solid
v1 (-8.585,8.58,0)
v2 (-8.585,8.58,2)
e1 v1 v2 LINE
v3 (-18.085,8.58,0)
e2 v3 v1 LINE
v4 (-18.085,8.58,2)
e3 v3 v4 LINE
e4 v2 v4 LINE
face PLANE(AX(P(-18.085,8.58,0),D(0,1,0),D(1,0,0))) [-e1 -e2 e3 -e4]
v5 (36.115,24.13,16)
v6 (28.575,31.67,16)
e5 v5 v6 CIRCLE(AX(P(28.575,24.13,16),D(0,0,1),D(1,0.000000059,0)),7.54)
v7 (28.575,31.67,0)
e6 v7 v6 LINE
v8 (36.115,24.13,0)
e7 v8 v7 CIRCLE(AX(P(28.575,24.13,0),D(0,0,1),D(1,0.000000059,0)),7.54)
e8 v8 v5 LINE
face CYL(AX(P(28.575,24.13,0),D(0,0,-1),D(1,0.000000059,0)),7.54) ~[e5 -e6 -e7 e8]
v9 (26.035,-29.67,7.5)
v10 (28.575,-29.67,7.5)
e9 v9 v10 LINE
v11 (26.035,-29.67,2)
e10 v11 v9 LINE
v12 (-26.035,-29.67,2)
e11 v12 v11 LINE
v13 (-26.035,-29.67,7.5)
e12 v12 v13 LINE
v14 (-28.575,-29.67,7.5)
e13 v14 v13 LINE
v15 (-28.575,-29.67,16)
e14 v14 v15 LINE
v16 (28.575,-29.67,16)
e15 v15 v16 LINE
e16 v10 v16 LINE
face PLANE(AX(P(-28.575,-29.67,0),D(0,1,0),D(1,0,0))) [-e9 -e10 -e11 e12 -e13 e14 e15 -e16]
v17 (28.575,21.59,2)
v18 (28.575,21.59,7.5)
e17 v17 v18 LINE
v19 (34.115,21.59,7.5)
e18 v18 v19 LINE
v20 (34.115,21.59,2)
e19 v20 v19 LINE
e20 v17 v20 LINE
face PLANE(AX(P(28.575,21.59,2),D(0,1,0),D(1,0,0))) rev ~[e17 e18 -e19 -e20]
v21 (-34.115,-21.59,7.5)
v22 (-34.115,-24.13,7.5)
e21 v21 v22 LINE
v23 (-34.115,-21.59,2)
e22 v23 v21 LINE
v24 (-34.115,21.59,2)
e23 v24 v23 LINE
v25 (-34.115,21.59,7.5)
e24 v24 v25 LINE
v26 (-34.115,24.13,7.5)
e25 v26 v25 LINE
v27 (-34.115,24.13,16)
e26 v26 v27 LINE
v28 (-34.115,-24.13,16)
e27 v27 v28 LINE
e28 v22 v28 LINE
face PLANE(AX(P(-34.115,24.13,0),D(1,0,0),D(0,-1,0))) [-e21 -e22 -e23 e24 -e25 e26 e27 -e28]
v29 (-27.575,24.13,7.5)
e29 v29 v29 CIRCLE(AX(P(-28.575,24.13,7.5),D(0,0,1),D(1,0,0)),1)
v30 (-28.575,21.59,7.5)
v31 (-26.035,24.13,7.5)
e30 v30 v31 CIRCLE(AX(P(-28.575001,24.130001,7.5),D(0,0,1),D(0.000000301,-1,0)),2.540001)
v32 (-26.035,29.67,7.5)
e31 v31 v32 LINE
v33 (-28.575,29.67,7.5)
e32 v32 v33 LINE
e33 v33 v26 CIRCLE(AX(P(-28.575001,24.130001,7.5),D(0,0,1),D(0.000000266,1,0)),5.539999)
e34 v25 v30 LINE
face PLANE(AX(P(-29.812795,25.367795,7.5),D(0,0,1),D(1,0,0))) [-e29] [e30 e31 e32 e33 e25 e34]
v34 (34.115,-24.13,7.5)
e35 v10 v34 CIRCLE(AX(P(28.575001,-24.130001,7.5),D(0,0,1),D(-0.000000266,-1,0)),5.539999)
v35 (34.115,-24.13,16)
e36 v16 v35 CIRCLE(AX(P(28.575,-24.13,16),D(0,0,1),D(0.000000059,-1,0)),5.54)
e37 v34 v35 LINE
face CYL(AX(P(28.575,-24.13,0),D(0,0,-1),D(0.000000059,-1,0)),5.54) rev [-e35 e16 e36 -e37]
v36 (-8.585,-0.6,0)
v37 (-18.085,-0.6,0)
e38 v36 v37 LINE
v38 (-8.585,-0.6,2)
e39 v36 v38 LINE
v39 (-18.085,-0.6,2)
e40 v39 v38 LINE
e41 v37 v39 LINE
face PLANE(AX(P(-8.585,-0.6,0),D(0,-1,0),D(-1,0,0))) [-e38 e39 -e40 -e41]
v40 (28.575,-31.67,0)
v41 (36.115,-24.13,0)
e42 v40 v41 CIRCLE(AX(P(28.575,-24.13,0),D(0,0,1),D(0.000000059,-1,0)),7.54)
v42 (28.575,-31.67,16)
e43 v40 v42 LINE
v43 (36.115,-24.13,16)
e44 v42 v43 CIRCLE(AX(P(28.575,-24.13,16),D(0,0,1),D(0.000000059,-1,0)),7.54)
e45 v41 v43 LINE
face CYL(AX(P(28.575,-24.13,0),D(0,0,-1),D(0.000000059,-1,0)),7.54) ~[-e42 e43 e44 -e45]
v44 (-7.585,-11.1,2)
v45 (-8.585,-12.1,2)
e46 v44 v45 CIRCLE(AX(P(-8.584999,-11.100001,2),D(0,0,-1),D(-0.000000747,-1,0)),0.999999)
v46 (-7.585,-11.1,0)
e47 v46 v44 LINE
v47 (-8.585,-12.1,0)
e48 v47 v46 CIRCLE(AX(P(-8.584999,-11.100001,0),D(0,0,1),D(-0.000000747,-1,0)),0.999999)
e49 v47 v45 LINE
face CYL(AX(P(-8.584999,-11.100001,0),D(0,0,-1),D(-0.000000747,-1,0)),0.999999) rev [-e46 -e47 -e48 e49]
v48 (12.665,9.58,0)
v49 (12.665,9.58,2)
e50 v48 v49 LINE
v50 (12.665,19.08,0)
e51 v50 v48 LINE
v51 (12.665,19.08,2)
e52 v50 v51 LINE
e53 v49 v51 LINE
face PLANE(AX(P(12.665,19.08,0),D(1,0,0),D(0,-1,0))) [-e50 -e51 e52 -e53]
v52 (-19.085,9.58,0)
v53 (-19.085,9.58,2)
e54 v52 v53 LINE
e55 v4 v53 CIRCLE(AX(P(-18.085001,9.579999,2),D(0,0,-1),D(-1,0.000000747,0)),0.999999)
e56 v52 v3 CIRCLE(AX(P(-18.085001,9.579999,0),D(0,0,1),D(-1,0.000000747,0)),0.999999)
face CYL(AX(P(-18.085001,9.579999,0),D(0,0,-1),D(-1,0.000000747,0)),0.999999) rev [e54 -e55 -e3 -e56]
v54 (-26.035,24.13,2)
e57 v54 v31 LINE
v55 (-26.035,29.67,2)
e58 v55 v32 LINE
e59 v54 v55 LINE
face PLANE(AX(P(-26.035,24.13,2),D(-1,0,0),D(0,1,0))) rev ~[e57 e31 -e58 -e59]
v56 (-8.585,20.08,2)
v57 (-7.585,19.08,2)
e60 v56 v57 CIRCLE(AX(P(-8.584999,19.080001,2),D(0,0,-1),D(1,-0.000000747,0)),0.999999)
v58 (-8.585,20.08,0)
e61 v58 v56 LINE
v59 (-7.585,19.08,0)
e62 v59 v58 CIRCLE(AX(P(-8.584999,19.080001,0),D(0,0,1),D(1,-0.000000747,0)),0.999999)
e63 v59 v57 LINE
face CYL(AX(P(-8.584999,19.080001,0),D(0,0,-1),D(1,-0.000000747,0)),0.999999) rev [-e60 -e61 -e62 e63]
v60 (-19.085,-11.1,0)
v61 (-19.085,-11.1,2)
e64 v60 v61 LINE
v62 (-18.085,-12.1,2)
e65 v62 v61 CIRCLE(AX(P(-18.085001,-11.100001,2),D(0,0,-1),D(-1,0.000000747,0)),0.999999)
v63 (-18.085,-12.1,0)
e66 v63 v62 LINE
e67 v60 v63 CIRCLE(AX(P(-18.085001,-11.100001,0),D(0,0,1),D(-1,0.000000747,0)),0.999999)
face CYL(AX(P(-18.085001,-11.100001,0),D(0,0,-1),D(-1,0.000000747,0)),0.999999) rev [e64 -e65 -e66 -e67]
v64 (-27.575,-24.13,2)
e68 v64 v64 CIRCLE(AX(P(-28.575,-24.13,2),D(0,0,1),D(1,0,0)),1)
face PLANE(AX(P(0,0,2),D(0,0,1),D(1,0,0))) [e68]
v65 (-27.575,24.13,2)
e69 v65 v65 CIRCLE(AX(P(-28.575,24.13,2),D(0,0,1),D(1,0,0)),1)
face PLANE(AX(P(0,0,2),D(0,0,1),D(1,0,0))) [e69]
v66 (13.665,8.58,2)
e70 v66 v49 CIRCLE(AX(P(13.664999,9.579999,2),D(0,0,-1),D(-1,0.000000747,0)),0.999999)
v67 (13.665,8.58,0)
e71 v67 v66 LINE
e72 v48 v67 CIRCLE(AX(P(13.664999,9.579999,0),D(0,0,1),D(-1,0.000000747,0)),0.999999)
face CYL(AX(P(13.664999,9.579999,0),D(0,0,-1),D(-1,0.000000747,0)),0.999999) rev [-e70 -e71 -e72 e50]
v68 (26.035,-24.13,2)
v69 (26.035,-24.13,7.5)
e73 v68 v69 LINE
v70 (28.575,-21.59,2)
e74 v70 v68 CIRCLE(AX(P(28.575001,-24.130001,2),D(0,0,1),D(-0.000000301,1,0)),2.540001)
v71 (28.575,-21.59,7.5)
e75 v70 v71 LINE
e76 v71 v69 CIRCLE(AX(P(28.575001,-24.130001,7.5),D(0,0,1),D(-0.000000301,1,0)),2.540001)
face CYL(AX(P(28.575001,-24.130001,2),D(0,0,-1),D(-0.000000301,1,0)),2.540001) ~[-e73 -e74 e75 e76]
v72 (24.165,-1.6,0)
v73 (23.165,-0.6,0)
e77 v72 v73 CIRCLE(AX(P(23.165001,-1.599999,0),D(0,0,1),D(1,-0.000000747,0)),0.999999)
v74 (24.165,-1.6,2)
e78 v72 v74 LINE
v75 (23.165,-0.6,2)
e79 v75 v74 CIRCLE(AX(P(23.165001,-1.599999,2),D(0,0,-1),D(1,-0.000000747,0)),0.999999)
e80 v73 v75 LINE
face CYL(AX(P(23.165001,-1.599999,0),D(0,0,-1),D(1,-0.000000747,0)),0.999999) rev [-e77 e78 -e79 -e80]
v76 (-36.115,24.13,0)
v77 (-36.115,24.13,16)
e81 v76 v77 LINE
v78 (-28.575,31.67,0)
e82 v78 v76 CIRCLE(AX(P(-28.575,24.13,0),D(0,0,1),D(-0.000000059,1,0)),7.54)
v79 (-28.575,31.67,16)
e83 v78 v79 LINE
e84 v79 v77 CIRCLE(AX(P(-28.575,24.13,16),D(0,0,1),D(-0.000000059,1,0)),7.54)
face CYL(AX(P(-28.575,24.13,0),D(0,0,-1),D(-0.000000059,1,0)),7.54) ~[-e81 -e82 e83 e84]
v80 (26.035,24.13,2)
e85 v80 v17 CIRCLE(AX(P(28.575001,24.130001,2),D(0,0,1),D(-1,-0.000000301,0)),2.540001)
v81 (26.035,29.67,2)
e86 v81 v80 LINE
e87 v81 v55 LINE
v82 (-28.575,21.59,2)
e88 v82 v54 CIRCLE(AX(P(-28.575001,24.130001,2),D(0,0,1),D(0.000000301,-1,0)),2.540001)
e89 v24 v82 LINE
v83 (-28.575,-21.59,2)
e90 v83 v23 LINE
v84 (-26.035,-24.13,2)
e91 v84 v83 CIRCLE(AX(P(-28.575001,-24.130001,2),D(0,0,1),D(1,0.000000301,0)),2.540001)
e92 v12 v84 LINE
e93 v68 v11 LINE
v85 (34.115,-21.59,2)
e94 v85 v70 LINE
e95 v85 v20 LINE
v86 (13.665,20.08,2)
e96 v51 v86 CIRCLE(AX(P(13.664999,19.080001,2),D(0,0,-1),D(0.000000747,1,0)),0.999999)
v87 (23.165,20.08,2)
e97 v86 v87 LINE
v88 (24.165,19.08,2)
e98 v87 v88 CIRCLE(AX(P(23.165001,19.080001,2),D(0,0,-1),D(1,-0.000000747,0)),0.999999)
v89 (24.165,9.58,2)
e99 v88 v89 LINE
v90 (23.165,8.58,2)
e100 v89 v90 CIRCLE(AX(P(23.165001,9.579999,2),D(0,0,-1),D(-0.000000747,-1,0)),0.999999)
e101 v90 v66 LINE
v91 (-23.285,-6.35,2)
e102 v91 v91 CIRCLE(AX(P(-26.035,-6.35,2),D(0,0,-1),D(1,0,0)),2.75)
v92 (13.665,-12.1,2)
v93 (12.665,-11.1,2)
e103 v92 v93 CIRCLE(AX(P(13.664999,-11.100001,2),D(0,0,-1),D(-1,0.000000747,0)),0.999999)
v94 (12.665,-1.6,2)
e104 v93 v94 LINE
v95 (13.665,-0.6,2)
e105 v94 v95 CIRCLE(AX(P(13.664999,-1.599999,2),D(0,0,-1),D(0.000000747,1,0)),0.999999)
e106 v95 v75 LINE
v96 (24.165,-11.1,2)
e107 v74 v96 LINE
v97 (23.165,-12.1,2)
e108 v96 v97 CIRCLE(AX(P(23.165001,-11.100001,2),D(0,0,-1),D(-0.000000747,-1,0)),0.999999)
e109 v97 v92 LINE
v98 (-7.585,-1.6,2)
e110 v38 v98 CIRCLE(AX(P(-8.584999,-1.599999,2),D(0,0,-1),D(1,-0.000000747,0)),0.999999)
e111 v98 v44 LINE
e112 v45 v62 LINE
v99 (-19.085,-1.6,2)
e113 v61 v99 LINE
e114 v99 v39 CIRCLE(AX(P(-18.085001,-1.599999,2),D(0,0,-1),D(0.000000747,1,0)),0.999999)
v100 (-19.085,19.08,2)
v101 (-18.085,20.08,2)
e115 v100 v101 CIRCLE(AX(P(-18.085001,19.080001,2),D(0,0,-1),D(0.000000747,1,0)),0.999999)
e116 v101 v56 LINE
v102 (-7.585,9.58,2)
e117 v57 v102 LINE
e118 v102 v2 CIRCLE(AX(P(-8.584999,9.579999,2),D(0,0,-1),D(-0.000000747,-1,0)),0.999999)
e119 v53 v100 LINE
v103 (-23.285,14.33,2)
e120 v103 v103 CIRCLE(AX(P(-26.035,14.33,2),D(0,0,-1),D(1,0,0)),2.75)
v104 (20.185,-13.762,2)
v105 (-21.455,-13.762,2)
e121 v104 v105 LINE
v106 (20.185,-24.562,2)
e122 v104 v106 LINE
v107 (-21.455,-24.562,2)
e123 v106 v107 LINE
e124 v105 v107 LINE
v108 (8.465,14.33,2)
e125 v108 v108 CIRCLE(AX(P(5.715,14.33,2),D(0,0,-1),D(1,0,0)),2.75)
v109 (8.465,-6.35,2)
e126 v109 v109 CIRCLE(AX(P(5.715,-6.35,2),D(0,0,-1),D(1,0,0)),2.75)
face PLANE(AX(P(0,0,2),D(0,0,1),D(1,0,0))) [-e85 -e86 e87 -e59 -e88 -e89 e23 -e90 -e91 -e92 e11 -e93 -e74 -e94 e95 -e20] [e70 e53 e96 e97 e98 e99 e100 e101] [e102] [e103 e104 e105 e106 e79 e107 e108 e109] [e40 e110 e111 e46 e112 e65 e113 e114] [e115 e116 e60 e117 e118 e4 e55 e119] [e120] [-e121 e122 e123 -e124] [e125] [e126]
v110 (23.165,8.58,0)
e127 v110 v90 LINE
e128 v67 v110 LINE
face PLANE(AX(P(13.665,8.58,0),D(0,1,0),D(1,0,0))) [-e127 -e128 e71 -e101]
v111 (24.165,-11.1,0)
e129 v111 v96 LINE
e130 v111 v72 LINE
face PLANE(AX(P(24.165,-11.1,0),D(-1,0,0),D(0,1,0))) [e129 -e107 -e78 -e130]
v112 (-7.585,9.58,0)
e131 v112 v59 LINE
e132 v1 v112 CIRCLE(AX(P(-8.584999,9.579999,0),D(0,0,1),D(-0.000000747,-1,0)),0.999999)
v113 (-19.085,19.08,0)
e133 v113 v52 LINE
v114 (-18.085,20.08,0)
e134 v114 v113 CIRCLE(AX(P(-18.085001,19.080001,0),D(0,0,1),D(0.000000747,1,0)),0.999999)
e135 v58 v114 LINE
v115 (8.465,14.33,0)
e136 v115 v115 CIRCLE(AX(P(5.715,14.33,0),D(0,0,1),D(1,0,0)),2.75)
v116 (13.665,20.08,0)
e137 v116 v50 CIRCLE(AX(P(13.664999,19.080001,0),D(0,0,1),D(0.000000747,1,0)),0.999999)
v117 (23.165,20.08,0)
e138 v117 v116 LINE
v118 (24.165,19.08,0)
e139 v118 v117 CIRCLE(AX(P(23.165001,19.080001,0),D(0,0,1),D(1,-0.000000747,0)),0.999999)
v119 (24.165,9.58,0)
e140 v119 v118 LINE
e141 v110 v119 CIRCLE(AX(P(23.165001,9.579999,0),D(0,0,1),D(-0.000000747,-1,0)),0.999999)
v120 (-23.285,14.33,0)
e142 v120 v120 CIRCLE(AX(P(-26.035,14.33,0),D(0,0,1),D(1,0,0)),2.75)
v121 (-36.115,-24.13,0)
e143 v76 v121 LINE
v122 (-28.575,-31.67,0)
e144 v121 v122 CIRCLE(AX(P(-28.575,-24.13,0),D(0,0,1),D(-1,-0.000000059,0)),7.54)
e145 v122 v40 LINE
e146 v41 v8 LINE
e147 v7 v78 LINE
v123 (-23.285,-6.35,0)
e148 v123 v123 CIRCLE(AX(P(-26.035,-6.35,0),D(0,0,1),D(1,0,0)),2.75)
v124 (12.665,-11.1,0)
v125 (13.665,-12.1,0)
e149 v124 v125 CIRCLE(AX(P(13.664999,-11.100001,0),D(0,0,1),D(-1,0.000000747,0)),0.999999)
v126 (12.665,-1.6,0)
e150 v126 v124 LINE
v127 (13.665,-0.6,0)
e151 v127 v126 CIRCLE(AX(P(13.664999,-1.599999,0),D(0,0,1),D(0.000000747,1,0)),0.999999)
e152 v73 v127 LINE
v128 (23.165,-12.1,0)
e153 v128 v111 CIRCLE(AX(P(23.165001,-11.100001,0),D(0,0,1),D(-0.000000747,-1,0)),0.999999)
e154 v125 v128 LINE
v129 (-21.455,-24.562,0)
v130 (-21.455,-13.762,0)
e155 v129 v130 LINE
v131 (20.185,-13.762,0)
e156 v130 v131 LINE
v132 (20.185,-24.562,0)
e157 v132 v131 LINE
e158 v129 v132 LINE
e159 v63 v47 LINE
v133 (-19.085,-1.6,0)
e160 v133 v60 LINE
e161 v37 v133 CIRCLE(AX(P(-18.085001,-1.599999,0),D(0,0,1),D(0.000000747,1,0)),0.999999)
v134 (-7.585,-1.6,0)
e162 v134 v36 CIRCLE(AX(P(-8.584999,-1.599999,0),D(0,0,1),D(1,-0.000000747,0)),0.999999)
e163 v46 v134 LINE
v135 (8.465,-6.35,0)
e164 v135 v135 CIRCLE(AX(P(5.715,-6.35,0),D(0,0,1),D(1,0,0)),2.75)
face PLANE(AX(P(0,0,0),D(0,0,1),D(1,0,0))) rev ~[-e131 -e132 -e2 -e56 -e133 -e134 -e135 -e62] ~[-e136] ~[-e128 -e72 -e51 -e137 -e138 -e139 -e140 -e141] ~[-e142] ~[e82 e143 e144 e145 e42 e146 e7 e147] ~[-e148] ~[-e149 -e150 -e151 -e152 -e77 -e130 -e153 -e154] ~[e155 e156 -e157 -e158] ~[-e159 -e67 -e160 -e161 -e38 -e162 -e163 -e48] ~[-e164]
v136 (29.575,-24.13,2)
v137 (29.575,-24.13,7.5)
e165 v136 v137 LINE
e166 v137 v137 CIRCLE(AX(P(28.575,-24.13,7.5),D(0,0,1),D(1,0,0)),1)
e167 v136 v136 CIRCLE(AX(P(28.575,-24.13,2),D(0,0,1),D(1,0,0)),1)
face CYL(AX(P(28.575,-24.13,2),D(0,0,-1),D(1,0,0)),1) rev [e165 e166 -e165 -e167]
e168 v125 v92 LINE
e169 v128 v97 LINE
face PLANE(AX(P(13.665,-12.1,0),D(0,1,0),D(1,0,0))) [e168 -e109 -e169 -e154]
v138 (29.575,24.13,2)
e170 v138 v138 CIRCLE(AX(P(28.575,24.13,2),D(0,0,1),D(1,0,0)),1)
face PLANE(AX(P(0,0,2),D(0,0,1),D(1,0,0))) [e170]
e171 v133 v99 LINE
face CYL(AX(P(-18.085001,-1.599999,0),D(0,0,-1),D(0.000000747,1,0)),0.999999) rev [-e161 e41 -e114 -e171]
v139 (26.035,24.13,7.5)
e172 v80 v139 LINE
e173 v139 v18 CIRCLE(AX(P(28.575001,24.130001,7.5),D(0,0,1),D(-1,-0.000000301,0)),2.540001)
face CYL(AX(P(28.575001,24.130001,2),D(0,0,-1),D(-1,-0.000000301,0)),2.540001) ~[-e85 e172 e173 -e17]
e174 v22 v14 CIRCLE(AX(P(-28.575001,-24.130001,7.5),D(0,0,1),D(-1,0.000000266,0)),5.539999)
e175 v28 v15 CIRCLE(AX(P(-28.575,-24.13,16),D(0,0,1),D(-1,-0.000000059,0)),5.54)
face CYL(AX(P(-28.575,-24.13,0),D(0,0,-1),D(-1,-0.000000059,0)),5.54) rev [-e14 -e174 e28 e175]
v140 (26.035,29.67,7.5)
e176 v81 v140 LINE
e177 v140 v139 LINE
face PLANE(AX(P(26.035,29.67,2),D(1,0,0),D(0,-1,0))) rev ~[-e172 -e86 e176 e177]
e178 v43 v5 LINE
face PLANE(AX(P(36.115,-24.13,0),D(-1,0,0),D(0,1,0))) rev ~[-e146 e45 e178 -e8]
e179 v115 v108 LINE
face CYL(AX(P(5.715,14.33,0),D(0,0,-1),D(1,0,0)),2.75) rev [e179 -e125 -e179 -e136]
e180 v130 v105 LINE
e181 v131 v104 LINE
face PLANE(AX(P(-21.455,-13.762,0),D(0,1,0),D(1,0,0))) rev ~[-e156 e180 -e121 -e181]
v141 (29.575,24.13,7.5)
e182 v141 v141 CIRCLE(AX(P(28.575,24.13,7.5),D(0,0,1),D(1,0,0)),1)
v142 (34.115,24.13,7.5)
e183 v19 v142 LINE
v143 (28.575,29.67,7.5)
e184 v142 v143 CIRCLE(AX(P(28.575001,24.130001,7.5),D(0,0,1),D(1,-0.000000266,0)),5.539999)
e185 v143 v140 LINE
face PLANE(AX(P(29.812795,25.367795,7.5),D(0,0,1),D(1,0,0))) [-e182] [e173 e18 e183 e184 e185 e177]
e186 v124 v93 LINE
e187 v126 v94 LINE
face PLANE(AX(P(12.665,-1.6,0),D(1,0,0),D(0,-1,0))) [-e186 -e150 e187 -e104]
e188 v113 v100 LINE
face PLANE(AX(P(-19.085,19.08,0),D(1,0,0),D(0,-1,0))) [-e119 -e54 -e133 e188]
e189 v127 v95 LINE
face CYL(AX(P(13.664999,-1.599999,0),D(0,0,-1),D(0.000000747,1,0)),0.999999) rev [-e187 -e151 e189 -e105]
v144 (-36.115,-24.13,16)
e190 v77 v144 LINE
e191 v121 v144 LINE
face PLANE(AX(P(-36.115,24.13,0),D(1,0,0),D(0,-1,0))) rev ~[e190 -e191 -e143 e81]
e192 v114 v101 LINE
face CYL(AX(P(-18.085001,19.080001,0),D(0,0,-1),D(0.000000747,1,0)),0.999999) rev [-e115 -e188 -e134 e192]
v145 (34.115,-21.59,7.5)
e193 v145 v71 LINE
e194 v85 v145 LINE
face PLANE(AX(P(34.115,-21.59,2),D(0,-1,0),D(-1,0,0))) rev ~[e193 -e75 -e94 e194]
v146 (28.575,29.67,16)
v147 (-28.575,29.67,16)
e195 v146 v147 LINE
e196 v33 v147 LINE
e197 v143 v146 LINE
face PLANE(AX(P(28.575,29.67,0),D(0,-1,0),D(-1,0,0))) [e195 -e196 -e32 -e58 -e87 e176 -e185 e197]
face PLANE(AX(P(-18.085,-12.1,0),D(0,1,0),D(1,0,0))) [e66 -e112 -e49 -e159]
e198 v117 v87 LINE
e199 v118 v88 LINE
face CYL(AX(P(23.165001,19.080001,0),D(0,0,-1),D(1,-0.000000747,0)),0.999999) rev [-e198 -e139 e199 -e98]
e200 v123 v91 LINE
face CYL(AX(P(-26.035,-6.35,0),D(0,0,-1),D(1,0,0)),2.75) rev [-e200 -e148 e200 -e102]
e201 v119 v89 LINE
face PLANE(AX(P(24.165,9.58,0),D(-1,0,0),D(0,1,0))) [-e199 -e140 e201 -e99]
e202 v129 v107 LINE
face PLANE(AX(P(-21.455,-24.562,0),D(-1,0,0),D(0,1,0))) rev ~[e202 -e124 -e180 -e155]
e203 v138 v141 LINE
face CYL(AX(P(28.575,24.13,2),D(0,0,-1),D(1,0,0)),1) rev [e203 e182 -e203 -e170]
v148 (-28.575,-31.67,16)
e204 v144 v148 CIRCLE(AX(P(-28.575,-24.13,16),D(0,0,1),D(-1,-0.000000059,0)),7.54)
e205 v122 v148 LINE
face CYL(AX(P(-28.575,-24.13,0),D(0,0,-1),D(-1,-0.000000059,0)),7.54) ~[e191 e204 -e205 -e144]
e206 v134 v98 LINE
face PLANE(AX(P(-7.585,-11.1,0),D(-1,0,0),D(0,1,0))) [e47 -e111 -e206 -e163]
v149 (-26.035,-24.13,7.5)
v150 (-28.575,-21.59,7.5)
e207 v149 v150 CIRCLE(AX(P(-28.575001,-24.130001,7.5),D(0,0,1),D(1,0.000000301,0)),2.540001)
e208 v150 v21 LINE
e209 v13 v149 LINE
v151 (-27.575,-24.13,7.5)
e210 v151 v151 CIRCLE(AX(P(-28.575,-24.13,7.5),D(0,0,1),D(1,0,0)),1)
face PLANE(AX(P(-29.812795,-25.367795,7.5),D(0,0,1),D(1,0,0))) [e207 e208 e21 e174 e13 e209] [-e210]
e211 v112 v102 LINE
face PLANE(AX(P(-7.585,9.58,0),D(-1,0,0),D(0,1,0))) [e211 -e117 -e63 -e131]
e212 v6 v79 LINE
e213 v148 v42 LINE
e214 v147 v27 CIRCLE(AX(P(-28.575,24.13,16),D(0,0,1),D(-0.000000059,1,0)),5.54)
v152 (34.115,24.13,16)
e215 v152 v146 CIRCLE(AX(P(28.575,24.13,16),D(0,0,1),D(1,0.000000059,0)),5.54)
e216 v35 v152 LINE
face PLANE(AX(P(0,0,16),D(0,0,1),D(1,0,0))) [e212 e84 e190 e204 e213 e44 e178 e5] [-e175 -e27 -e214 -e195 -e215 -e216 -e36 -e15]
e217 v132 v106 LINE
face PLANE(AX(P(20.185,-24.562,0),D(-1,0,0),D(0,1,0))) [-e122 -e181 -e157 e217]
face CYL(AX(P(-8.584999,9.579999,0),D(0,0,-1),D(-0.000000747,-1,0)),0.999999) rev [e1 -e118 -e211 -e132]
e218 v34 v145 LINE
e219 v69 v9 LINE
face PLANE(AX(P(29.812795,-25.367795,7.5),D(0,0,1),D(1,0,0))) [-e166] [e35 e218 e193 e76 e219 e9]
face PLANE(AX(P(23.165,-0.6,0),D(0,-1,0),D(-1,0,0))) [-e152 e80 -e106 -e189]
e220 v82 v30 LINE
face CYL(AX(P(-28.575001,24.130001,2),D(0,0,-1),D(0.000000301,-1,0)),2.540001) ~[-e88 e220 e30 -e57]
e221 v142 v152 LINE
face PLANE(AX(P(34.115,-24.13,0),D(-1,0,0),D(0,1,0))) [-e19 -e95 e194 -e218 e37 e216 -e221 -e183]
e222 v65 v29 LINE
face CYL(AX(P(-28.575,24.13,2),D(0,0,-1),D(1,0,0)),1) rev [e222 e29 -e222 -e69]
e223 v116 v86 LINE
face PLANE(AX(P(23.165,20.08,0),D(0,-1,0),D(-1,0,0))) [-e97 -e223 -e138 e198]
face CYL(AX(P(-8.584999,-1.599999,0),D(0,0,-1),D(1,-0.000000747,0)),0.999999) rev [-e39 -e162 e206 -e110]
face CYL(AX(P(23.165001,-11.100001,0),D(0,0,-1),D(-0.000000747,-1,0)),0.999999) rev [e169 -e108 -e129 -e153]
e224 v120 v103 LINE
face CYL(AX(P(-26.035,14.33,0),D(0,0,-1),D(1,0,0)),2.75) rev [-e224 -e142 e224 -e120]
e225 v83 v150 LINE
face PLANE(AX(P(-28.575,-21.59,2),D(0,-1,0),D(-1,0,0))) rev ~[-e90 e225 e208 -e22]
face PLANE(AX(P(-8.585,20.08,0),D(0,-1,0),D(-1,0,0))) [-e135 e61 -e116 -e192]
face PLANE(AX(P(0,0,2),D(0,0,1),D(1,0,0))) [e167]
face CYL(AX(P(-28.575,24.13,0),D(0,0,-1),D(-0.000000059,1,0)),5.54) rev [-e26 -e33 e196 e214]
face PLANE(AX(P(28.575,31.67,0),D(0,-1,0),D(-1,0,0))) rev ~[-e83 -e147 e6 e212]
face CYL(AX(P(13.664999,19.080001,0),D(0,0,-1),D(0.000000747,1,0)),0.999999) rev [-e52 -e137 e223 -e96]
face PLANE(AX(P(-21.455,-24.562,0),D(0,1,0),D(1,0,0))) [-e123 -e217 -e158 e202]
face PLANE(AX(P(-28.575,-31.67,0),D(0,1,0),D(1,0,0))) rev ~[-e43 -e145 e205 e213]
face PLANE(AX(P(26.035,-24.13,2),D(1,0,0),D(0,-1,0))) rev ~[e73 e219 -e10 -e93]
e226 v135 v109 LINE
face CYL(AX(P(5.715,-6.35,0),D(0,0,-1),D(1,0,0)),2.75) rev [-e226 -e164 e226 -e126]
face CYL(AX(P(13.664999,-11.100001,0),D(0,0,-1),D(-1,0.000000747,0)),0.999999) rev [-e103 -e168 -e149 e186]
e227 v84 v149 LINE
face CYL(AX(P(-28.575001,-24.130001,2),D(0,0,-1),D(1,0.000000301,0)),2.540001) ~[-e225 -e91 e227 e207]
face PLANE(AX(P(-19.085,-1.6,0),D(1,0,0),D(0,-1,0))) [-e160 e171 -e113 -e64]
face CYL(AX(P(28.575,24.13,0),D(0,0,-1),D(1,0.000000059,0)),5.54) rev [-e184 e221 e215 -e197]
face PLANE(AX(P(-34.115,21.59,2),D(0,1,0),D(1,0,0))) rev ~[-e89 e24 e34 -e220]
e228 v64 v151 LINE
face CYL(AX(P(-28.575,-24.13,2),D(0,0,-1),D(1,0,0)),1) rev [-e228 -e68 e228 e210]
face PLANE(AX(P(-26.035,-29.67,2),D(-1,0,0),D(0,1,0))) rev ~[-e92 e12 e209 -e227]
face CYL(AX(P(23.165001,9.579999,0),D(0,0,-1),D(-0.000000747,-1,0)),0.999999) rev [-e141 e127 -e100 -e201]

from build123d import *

# Parameters (mm, degrees)
F1_DEPTH = 16
F2_T     = -2
F3_W     = 41.64
F3_H     = 10.8
F3_R     = 2.75
F4_DEPTH = 16.001
F5_R     = 1
F6_DEPTH = 5.5


with BuildPart() as f1:
    # F0 (on Top) → F1 (new body)
    with BuildSketch(Plane.XY):
        with BuildLine():
            ThreePointArc((36.115, 24.13), (33.906585, 29.461585), (28.575, 31.67))
            Line((28.575, 31.67), (-28.575, 31.67))
            ThreePointArc((-28.575, 31.67), (-33.906585, 29.461585), (-36.115, 24.13))
            Line((-36.115, 24.13), (-36.115, -24.13))
            ThreePointArc((-36.115, -24.13), (-33.906585, -29.461585), (-28.575, -31.67))
            Line((-28.575, -31.67), (28.575, -31.67))
            ThreePointArc((28.575, -31.67), (33.906585, -29.461585), (36.115, -24.13))
            Line((36.115, -24.13), (36.115, 24.13))
        make_face()
    extrude(amount=F1_DEPTH)

    # F2
    f2_openings = [f1.faces().sort_by_distance(p)[0] for p in [
        (0, 0, 16),
    ]]
    offset(amount=F2_T, openings=f2_openings)

    # F3 (on Top) → F4 (cut, through all)
    with BuildSketch(Plane.XY):
        with Locations((-0.635, -19.162)):
            Rectangle(F3_W, F3_H)
        with BuildLine():
            Line((-8.585, -0.6), (-18.085, -0.6))
            ThreePointArc((-18.085, -0.6), (-18.792107, -0.892893), (-19.085, -1.6))
            Line((-19.085, -1.6), (-19.085, -11.1))
            ThreePointArc((-19.085, -11.1), (-18.792107, -11.807107), (-18.085, -12.1))
            Line((-18.085, -12.1), (-8.585, -12.1))
            ThreePointArc((-8.585, -12.1), (-7.877893, -11.807107), (-7.585, -11.1))
            Line((-7.585, -11.1), (-7.585, -1.6))
            ThreePointArc((-7.585, -1.6), (-7.877893, -0.892893), (-8.585, -0.6))
        make_face()
        with Locations((-26.035, -6.35)):
            Circle(F3_R)
        with BuildLine():
            Line((-8.585, 20.08), (-18.085, 20.08))
            ThreePointArc((-18.085, 20.08), (-18.792107, 19.787107), (-19.085, 19.08))
            Line((-19.085, 19.08), (-19.085, 9.58))
            ThreePointArc((-19.085, 9.58), (-18.792107, 8.872893), (-18.085, 8.58))
            Line((-18.085, 8.58), (-8.585, 8.58))
            ThreePointArc((-8.585, 8.58), (-7.877893, 8.872893), (-7.585, 9.58))
            Line((-7.585, 9.58), (-7.585, 19.08))
            ThreePointArc((-7.585, 19.08), (-7.877893, 19.787107), (-8.585, 20.08))
        make_face()
        with Locations((-26.035, 14.33)):
            Circle(F3_R)
        with BuildLine():
            Line((23.165, -0.6), (13.665, -0.6))
            ThreePointArc((13.665, -0.6), (12.957893, -0.892893), (12.665, -1.6))
            Line((12.665, -1.6), (12.665, -11.1))
            ThreePointArc((12.665, -11.1), (12.957893, -11.807107), (13.665, -12.1))
            Line((13.665, -12.1), (23.165, -12.1))
            ThreePointArc((23.165, -12.1), (23.872107, -11.807107), (24.165, -11.1))
            Line((24.165, -11.1), (24.165, -1.6))
            ThreePointArc((24.165, -1.6), (23.872107, -0.892893), (23.165, -0.6))
        make_face()
        with Locations((5.715, -6.35)):
            Circle(F3_R)
        with BuildLine():
            Line((23.165, 20.08), (13.665, 20.08))
            ThreePointArc((13.665, 20.08), (12.957893, 19.787107), (12.665, 19.08))
            Line((12.665, 19.08), (12.665, 9.58))
            ThreePointArc((12.665, 9.58), (12.957893, 8.872893), (13.665, 8.58))
            Line((13.665, 8.58), (23.165, 8.58))
            ThreePointArc((23.165, 8.58), (23.872107, 8.872893), (24.165, 9.58))
            Line((24.165, 9.58), (24.165, 19.08))
            ThreePointArc((24.165, 19.08), (23.872107, 19.787107), (23.165, 20.08))
        make_face()
        with Locations((5.715, 14.33)):
            Circle(F3_R)
    extrude(amount=F4_DEPTH, mode=Mode.SUBTRACT)

    # F5 (on face) → F6 (join)
    with BuildSketch(Plane.XY.offset(2)):
        with BuildLine():
            Line((-34.115, 24.13), (-34.115, 21.59))
            Line((-34.115, 21.59), (-28.575, 21.59))
            ThreePointArc((-28.575, 21.59), (-26.778949, 22.333949), (-26.035, 24.13))
            Line((-26.035, 24.13), (-26.035, 29.67))
            Line((-26.035, 29.67), (-28.575, 29.67))
            ThreePointArc((-28.575, 29.67), (-32.492372, 28.047372), (-34.115, 24.13))
        make_face()
        with Locations((-28.575, 24.13)):
            Circle(F5_R, mode=Mode.SUBTRACT)
        with BuildLine():
            Line((28.575, 21.59), (34.115, 21.59))
            Line((34.115, 21.59), (34.115, 24.13))
            ThreePointArc((34.115, 24.13), (32.492372, 28.047372), (28.575, 29.67))
            Line((28.575, 29.67), (26.035, 29.67))
            Line((26.035, 29.67), (26.035, 24.13))
            ThreePointArc((26.035, 24.13), (26.778949, 22.333949), (28.575, 21.59))
        make_face()
        with Locations((28.575, 24.13)):
            Circle(F5_R, mode=Mode.SUBTRACT)
        with BuildLine():
            Line((26.035, -24.13), (26.035, -29.67))
            Line((26.035, -29.67), (28.575, -29.67))
            ThreePointArc((28.575, -29.67), (32.492372, -28.047372), (34.115, -24.13))
            Line((34.115, -24.13), (34.115, -21.59))
            Line((34.115, -21.59), (28.575, -21.59))
            ThreePointArc((28.575, -21.59), (26.778949, -22.333949), (26.035, -24.13))
        make_face()
        with Locations((28.575, -24.13)):
            Circle(F5_R, mode=Mode.SUBTRACT)
        with BuildLine():
            Line((-34.115, -21.59), (-34.115, -24.13))
            ThreePointArc((-34.115, -24.13), (-32.492372, -28.047372), (-28.575, -29.67))
            Line((-28.575, -29.67), (-26.035, -29.67))
            Line((-26.035, -29.67), (-26.035, -24.13))
            ThreePointArc((-26.035, -24.13), (-26.778949, -22.333949), (-28.575, -21.59))
            Line((-28.575, -21.59), (-34.115, -21.59))
        make_face()
        with Locations((-28.575, -24.13)):
            Circle(F5_R, mode=Mode.SUBTRACT)
    extrude(amount=F6_DEPTH)


solid = f1.part
